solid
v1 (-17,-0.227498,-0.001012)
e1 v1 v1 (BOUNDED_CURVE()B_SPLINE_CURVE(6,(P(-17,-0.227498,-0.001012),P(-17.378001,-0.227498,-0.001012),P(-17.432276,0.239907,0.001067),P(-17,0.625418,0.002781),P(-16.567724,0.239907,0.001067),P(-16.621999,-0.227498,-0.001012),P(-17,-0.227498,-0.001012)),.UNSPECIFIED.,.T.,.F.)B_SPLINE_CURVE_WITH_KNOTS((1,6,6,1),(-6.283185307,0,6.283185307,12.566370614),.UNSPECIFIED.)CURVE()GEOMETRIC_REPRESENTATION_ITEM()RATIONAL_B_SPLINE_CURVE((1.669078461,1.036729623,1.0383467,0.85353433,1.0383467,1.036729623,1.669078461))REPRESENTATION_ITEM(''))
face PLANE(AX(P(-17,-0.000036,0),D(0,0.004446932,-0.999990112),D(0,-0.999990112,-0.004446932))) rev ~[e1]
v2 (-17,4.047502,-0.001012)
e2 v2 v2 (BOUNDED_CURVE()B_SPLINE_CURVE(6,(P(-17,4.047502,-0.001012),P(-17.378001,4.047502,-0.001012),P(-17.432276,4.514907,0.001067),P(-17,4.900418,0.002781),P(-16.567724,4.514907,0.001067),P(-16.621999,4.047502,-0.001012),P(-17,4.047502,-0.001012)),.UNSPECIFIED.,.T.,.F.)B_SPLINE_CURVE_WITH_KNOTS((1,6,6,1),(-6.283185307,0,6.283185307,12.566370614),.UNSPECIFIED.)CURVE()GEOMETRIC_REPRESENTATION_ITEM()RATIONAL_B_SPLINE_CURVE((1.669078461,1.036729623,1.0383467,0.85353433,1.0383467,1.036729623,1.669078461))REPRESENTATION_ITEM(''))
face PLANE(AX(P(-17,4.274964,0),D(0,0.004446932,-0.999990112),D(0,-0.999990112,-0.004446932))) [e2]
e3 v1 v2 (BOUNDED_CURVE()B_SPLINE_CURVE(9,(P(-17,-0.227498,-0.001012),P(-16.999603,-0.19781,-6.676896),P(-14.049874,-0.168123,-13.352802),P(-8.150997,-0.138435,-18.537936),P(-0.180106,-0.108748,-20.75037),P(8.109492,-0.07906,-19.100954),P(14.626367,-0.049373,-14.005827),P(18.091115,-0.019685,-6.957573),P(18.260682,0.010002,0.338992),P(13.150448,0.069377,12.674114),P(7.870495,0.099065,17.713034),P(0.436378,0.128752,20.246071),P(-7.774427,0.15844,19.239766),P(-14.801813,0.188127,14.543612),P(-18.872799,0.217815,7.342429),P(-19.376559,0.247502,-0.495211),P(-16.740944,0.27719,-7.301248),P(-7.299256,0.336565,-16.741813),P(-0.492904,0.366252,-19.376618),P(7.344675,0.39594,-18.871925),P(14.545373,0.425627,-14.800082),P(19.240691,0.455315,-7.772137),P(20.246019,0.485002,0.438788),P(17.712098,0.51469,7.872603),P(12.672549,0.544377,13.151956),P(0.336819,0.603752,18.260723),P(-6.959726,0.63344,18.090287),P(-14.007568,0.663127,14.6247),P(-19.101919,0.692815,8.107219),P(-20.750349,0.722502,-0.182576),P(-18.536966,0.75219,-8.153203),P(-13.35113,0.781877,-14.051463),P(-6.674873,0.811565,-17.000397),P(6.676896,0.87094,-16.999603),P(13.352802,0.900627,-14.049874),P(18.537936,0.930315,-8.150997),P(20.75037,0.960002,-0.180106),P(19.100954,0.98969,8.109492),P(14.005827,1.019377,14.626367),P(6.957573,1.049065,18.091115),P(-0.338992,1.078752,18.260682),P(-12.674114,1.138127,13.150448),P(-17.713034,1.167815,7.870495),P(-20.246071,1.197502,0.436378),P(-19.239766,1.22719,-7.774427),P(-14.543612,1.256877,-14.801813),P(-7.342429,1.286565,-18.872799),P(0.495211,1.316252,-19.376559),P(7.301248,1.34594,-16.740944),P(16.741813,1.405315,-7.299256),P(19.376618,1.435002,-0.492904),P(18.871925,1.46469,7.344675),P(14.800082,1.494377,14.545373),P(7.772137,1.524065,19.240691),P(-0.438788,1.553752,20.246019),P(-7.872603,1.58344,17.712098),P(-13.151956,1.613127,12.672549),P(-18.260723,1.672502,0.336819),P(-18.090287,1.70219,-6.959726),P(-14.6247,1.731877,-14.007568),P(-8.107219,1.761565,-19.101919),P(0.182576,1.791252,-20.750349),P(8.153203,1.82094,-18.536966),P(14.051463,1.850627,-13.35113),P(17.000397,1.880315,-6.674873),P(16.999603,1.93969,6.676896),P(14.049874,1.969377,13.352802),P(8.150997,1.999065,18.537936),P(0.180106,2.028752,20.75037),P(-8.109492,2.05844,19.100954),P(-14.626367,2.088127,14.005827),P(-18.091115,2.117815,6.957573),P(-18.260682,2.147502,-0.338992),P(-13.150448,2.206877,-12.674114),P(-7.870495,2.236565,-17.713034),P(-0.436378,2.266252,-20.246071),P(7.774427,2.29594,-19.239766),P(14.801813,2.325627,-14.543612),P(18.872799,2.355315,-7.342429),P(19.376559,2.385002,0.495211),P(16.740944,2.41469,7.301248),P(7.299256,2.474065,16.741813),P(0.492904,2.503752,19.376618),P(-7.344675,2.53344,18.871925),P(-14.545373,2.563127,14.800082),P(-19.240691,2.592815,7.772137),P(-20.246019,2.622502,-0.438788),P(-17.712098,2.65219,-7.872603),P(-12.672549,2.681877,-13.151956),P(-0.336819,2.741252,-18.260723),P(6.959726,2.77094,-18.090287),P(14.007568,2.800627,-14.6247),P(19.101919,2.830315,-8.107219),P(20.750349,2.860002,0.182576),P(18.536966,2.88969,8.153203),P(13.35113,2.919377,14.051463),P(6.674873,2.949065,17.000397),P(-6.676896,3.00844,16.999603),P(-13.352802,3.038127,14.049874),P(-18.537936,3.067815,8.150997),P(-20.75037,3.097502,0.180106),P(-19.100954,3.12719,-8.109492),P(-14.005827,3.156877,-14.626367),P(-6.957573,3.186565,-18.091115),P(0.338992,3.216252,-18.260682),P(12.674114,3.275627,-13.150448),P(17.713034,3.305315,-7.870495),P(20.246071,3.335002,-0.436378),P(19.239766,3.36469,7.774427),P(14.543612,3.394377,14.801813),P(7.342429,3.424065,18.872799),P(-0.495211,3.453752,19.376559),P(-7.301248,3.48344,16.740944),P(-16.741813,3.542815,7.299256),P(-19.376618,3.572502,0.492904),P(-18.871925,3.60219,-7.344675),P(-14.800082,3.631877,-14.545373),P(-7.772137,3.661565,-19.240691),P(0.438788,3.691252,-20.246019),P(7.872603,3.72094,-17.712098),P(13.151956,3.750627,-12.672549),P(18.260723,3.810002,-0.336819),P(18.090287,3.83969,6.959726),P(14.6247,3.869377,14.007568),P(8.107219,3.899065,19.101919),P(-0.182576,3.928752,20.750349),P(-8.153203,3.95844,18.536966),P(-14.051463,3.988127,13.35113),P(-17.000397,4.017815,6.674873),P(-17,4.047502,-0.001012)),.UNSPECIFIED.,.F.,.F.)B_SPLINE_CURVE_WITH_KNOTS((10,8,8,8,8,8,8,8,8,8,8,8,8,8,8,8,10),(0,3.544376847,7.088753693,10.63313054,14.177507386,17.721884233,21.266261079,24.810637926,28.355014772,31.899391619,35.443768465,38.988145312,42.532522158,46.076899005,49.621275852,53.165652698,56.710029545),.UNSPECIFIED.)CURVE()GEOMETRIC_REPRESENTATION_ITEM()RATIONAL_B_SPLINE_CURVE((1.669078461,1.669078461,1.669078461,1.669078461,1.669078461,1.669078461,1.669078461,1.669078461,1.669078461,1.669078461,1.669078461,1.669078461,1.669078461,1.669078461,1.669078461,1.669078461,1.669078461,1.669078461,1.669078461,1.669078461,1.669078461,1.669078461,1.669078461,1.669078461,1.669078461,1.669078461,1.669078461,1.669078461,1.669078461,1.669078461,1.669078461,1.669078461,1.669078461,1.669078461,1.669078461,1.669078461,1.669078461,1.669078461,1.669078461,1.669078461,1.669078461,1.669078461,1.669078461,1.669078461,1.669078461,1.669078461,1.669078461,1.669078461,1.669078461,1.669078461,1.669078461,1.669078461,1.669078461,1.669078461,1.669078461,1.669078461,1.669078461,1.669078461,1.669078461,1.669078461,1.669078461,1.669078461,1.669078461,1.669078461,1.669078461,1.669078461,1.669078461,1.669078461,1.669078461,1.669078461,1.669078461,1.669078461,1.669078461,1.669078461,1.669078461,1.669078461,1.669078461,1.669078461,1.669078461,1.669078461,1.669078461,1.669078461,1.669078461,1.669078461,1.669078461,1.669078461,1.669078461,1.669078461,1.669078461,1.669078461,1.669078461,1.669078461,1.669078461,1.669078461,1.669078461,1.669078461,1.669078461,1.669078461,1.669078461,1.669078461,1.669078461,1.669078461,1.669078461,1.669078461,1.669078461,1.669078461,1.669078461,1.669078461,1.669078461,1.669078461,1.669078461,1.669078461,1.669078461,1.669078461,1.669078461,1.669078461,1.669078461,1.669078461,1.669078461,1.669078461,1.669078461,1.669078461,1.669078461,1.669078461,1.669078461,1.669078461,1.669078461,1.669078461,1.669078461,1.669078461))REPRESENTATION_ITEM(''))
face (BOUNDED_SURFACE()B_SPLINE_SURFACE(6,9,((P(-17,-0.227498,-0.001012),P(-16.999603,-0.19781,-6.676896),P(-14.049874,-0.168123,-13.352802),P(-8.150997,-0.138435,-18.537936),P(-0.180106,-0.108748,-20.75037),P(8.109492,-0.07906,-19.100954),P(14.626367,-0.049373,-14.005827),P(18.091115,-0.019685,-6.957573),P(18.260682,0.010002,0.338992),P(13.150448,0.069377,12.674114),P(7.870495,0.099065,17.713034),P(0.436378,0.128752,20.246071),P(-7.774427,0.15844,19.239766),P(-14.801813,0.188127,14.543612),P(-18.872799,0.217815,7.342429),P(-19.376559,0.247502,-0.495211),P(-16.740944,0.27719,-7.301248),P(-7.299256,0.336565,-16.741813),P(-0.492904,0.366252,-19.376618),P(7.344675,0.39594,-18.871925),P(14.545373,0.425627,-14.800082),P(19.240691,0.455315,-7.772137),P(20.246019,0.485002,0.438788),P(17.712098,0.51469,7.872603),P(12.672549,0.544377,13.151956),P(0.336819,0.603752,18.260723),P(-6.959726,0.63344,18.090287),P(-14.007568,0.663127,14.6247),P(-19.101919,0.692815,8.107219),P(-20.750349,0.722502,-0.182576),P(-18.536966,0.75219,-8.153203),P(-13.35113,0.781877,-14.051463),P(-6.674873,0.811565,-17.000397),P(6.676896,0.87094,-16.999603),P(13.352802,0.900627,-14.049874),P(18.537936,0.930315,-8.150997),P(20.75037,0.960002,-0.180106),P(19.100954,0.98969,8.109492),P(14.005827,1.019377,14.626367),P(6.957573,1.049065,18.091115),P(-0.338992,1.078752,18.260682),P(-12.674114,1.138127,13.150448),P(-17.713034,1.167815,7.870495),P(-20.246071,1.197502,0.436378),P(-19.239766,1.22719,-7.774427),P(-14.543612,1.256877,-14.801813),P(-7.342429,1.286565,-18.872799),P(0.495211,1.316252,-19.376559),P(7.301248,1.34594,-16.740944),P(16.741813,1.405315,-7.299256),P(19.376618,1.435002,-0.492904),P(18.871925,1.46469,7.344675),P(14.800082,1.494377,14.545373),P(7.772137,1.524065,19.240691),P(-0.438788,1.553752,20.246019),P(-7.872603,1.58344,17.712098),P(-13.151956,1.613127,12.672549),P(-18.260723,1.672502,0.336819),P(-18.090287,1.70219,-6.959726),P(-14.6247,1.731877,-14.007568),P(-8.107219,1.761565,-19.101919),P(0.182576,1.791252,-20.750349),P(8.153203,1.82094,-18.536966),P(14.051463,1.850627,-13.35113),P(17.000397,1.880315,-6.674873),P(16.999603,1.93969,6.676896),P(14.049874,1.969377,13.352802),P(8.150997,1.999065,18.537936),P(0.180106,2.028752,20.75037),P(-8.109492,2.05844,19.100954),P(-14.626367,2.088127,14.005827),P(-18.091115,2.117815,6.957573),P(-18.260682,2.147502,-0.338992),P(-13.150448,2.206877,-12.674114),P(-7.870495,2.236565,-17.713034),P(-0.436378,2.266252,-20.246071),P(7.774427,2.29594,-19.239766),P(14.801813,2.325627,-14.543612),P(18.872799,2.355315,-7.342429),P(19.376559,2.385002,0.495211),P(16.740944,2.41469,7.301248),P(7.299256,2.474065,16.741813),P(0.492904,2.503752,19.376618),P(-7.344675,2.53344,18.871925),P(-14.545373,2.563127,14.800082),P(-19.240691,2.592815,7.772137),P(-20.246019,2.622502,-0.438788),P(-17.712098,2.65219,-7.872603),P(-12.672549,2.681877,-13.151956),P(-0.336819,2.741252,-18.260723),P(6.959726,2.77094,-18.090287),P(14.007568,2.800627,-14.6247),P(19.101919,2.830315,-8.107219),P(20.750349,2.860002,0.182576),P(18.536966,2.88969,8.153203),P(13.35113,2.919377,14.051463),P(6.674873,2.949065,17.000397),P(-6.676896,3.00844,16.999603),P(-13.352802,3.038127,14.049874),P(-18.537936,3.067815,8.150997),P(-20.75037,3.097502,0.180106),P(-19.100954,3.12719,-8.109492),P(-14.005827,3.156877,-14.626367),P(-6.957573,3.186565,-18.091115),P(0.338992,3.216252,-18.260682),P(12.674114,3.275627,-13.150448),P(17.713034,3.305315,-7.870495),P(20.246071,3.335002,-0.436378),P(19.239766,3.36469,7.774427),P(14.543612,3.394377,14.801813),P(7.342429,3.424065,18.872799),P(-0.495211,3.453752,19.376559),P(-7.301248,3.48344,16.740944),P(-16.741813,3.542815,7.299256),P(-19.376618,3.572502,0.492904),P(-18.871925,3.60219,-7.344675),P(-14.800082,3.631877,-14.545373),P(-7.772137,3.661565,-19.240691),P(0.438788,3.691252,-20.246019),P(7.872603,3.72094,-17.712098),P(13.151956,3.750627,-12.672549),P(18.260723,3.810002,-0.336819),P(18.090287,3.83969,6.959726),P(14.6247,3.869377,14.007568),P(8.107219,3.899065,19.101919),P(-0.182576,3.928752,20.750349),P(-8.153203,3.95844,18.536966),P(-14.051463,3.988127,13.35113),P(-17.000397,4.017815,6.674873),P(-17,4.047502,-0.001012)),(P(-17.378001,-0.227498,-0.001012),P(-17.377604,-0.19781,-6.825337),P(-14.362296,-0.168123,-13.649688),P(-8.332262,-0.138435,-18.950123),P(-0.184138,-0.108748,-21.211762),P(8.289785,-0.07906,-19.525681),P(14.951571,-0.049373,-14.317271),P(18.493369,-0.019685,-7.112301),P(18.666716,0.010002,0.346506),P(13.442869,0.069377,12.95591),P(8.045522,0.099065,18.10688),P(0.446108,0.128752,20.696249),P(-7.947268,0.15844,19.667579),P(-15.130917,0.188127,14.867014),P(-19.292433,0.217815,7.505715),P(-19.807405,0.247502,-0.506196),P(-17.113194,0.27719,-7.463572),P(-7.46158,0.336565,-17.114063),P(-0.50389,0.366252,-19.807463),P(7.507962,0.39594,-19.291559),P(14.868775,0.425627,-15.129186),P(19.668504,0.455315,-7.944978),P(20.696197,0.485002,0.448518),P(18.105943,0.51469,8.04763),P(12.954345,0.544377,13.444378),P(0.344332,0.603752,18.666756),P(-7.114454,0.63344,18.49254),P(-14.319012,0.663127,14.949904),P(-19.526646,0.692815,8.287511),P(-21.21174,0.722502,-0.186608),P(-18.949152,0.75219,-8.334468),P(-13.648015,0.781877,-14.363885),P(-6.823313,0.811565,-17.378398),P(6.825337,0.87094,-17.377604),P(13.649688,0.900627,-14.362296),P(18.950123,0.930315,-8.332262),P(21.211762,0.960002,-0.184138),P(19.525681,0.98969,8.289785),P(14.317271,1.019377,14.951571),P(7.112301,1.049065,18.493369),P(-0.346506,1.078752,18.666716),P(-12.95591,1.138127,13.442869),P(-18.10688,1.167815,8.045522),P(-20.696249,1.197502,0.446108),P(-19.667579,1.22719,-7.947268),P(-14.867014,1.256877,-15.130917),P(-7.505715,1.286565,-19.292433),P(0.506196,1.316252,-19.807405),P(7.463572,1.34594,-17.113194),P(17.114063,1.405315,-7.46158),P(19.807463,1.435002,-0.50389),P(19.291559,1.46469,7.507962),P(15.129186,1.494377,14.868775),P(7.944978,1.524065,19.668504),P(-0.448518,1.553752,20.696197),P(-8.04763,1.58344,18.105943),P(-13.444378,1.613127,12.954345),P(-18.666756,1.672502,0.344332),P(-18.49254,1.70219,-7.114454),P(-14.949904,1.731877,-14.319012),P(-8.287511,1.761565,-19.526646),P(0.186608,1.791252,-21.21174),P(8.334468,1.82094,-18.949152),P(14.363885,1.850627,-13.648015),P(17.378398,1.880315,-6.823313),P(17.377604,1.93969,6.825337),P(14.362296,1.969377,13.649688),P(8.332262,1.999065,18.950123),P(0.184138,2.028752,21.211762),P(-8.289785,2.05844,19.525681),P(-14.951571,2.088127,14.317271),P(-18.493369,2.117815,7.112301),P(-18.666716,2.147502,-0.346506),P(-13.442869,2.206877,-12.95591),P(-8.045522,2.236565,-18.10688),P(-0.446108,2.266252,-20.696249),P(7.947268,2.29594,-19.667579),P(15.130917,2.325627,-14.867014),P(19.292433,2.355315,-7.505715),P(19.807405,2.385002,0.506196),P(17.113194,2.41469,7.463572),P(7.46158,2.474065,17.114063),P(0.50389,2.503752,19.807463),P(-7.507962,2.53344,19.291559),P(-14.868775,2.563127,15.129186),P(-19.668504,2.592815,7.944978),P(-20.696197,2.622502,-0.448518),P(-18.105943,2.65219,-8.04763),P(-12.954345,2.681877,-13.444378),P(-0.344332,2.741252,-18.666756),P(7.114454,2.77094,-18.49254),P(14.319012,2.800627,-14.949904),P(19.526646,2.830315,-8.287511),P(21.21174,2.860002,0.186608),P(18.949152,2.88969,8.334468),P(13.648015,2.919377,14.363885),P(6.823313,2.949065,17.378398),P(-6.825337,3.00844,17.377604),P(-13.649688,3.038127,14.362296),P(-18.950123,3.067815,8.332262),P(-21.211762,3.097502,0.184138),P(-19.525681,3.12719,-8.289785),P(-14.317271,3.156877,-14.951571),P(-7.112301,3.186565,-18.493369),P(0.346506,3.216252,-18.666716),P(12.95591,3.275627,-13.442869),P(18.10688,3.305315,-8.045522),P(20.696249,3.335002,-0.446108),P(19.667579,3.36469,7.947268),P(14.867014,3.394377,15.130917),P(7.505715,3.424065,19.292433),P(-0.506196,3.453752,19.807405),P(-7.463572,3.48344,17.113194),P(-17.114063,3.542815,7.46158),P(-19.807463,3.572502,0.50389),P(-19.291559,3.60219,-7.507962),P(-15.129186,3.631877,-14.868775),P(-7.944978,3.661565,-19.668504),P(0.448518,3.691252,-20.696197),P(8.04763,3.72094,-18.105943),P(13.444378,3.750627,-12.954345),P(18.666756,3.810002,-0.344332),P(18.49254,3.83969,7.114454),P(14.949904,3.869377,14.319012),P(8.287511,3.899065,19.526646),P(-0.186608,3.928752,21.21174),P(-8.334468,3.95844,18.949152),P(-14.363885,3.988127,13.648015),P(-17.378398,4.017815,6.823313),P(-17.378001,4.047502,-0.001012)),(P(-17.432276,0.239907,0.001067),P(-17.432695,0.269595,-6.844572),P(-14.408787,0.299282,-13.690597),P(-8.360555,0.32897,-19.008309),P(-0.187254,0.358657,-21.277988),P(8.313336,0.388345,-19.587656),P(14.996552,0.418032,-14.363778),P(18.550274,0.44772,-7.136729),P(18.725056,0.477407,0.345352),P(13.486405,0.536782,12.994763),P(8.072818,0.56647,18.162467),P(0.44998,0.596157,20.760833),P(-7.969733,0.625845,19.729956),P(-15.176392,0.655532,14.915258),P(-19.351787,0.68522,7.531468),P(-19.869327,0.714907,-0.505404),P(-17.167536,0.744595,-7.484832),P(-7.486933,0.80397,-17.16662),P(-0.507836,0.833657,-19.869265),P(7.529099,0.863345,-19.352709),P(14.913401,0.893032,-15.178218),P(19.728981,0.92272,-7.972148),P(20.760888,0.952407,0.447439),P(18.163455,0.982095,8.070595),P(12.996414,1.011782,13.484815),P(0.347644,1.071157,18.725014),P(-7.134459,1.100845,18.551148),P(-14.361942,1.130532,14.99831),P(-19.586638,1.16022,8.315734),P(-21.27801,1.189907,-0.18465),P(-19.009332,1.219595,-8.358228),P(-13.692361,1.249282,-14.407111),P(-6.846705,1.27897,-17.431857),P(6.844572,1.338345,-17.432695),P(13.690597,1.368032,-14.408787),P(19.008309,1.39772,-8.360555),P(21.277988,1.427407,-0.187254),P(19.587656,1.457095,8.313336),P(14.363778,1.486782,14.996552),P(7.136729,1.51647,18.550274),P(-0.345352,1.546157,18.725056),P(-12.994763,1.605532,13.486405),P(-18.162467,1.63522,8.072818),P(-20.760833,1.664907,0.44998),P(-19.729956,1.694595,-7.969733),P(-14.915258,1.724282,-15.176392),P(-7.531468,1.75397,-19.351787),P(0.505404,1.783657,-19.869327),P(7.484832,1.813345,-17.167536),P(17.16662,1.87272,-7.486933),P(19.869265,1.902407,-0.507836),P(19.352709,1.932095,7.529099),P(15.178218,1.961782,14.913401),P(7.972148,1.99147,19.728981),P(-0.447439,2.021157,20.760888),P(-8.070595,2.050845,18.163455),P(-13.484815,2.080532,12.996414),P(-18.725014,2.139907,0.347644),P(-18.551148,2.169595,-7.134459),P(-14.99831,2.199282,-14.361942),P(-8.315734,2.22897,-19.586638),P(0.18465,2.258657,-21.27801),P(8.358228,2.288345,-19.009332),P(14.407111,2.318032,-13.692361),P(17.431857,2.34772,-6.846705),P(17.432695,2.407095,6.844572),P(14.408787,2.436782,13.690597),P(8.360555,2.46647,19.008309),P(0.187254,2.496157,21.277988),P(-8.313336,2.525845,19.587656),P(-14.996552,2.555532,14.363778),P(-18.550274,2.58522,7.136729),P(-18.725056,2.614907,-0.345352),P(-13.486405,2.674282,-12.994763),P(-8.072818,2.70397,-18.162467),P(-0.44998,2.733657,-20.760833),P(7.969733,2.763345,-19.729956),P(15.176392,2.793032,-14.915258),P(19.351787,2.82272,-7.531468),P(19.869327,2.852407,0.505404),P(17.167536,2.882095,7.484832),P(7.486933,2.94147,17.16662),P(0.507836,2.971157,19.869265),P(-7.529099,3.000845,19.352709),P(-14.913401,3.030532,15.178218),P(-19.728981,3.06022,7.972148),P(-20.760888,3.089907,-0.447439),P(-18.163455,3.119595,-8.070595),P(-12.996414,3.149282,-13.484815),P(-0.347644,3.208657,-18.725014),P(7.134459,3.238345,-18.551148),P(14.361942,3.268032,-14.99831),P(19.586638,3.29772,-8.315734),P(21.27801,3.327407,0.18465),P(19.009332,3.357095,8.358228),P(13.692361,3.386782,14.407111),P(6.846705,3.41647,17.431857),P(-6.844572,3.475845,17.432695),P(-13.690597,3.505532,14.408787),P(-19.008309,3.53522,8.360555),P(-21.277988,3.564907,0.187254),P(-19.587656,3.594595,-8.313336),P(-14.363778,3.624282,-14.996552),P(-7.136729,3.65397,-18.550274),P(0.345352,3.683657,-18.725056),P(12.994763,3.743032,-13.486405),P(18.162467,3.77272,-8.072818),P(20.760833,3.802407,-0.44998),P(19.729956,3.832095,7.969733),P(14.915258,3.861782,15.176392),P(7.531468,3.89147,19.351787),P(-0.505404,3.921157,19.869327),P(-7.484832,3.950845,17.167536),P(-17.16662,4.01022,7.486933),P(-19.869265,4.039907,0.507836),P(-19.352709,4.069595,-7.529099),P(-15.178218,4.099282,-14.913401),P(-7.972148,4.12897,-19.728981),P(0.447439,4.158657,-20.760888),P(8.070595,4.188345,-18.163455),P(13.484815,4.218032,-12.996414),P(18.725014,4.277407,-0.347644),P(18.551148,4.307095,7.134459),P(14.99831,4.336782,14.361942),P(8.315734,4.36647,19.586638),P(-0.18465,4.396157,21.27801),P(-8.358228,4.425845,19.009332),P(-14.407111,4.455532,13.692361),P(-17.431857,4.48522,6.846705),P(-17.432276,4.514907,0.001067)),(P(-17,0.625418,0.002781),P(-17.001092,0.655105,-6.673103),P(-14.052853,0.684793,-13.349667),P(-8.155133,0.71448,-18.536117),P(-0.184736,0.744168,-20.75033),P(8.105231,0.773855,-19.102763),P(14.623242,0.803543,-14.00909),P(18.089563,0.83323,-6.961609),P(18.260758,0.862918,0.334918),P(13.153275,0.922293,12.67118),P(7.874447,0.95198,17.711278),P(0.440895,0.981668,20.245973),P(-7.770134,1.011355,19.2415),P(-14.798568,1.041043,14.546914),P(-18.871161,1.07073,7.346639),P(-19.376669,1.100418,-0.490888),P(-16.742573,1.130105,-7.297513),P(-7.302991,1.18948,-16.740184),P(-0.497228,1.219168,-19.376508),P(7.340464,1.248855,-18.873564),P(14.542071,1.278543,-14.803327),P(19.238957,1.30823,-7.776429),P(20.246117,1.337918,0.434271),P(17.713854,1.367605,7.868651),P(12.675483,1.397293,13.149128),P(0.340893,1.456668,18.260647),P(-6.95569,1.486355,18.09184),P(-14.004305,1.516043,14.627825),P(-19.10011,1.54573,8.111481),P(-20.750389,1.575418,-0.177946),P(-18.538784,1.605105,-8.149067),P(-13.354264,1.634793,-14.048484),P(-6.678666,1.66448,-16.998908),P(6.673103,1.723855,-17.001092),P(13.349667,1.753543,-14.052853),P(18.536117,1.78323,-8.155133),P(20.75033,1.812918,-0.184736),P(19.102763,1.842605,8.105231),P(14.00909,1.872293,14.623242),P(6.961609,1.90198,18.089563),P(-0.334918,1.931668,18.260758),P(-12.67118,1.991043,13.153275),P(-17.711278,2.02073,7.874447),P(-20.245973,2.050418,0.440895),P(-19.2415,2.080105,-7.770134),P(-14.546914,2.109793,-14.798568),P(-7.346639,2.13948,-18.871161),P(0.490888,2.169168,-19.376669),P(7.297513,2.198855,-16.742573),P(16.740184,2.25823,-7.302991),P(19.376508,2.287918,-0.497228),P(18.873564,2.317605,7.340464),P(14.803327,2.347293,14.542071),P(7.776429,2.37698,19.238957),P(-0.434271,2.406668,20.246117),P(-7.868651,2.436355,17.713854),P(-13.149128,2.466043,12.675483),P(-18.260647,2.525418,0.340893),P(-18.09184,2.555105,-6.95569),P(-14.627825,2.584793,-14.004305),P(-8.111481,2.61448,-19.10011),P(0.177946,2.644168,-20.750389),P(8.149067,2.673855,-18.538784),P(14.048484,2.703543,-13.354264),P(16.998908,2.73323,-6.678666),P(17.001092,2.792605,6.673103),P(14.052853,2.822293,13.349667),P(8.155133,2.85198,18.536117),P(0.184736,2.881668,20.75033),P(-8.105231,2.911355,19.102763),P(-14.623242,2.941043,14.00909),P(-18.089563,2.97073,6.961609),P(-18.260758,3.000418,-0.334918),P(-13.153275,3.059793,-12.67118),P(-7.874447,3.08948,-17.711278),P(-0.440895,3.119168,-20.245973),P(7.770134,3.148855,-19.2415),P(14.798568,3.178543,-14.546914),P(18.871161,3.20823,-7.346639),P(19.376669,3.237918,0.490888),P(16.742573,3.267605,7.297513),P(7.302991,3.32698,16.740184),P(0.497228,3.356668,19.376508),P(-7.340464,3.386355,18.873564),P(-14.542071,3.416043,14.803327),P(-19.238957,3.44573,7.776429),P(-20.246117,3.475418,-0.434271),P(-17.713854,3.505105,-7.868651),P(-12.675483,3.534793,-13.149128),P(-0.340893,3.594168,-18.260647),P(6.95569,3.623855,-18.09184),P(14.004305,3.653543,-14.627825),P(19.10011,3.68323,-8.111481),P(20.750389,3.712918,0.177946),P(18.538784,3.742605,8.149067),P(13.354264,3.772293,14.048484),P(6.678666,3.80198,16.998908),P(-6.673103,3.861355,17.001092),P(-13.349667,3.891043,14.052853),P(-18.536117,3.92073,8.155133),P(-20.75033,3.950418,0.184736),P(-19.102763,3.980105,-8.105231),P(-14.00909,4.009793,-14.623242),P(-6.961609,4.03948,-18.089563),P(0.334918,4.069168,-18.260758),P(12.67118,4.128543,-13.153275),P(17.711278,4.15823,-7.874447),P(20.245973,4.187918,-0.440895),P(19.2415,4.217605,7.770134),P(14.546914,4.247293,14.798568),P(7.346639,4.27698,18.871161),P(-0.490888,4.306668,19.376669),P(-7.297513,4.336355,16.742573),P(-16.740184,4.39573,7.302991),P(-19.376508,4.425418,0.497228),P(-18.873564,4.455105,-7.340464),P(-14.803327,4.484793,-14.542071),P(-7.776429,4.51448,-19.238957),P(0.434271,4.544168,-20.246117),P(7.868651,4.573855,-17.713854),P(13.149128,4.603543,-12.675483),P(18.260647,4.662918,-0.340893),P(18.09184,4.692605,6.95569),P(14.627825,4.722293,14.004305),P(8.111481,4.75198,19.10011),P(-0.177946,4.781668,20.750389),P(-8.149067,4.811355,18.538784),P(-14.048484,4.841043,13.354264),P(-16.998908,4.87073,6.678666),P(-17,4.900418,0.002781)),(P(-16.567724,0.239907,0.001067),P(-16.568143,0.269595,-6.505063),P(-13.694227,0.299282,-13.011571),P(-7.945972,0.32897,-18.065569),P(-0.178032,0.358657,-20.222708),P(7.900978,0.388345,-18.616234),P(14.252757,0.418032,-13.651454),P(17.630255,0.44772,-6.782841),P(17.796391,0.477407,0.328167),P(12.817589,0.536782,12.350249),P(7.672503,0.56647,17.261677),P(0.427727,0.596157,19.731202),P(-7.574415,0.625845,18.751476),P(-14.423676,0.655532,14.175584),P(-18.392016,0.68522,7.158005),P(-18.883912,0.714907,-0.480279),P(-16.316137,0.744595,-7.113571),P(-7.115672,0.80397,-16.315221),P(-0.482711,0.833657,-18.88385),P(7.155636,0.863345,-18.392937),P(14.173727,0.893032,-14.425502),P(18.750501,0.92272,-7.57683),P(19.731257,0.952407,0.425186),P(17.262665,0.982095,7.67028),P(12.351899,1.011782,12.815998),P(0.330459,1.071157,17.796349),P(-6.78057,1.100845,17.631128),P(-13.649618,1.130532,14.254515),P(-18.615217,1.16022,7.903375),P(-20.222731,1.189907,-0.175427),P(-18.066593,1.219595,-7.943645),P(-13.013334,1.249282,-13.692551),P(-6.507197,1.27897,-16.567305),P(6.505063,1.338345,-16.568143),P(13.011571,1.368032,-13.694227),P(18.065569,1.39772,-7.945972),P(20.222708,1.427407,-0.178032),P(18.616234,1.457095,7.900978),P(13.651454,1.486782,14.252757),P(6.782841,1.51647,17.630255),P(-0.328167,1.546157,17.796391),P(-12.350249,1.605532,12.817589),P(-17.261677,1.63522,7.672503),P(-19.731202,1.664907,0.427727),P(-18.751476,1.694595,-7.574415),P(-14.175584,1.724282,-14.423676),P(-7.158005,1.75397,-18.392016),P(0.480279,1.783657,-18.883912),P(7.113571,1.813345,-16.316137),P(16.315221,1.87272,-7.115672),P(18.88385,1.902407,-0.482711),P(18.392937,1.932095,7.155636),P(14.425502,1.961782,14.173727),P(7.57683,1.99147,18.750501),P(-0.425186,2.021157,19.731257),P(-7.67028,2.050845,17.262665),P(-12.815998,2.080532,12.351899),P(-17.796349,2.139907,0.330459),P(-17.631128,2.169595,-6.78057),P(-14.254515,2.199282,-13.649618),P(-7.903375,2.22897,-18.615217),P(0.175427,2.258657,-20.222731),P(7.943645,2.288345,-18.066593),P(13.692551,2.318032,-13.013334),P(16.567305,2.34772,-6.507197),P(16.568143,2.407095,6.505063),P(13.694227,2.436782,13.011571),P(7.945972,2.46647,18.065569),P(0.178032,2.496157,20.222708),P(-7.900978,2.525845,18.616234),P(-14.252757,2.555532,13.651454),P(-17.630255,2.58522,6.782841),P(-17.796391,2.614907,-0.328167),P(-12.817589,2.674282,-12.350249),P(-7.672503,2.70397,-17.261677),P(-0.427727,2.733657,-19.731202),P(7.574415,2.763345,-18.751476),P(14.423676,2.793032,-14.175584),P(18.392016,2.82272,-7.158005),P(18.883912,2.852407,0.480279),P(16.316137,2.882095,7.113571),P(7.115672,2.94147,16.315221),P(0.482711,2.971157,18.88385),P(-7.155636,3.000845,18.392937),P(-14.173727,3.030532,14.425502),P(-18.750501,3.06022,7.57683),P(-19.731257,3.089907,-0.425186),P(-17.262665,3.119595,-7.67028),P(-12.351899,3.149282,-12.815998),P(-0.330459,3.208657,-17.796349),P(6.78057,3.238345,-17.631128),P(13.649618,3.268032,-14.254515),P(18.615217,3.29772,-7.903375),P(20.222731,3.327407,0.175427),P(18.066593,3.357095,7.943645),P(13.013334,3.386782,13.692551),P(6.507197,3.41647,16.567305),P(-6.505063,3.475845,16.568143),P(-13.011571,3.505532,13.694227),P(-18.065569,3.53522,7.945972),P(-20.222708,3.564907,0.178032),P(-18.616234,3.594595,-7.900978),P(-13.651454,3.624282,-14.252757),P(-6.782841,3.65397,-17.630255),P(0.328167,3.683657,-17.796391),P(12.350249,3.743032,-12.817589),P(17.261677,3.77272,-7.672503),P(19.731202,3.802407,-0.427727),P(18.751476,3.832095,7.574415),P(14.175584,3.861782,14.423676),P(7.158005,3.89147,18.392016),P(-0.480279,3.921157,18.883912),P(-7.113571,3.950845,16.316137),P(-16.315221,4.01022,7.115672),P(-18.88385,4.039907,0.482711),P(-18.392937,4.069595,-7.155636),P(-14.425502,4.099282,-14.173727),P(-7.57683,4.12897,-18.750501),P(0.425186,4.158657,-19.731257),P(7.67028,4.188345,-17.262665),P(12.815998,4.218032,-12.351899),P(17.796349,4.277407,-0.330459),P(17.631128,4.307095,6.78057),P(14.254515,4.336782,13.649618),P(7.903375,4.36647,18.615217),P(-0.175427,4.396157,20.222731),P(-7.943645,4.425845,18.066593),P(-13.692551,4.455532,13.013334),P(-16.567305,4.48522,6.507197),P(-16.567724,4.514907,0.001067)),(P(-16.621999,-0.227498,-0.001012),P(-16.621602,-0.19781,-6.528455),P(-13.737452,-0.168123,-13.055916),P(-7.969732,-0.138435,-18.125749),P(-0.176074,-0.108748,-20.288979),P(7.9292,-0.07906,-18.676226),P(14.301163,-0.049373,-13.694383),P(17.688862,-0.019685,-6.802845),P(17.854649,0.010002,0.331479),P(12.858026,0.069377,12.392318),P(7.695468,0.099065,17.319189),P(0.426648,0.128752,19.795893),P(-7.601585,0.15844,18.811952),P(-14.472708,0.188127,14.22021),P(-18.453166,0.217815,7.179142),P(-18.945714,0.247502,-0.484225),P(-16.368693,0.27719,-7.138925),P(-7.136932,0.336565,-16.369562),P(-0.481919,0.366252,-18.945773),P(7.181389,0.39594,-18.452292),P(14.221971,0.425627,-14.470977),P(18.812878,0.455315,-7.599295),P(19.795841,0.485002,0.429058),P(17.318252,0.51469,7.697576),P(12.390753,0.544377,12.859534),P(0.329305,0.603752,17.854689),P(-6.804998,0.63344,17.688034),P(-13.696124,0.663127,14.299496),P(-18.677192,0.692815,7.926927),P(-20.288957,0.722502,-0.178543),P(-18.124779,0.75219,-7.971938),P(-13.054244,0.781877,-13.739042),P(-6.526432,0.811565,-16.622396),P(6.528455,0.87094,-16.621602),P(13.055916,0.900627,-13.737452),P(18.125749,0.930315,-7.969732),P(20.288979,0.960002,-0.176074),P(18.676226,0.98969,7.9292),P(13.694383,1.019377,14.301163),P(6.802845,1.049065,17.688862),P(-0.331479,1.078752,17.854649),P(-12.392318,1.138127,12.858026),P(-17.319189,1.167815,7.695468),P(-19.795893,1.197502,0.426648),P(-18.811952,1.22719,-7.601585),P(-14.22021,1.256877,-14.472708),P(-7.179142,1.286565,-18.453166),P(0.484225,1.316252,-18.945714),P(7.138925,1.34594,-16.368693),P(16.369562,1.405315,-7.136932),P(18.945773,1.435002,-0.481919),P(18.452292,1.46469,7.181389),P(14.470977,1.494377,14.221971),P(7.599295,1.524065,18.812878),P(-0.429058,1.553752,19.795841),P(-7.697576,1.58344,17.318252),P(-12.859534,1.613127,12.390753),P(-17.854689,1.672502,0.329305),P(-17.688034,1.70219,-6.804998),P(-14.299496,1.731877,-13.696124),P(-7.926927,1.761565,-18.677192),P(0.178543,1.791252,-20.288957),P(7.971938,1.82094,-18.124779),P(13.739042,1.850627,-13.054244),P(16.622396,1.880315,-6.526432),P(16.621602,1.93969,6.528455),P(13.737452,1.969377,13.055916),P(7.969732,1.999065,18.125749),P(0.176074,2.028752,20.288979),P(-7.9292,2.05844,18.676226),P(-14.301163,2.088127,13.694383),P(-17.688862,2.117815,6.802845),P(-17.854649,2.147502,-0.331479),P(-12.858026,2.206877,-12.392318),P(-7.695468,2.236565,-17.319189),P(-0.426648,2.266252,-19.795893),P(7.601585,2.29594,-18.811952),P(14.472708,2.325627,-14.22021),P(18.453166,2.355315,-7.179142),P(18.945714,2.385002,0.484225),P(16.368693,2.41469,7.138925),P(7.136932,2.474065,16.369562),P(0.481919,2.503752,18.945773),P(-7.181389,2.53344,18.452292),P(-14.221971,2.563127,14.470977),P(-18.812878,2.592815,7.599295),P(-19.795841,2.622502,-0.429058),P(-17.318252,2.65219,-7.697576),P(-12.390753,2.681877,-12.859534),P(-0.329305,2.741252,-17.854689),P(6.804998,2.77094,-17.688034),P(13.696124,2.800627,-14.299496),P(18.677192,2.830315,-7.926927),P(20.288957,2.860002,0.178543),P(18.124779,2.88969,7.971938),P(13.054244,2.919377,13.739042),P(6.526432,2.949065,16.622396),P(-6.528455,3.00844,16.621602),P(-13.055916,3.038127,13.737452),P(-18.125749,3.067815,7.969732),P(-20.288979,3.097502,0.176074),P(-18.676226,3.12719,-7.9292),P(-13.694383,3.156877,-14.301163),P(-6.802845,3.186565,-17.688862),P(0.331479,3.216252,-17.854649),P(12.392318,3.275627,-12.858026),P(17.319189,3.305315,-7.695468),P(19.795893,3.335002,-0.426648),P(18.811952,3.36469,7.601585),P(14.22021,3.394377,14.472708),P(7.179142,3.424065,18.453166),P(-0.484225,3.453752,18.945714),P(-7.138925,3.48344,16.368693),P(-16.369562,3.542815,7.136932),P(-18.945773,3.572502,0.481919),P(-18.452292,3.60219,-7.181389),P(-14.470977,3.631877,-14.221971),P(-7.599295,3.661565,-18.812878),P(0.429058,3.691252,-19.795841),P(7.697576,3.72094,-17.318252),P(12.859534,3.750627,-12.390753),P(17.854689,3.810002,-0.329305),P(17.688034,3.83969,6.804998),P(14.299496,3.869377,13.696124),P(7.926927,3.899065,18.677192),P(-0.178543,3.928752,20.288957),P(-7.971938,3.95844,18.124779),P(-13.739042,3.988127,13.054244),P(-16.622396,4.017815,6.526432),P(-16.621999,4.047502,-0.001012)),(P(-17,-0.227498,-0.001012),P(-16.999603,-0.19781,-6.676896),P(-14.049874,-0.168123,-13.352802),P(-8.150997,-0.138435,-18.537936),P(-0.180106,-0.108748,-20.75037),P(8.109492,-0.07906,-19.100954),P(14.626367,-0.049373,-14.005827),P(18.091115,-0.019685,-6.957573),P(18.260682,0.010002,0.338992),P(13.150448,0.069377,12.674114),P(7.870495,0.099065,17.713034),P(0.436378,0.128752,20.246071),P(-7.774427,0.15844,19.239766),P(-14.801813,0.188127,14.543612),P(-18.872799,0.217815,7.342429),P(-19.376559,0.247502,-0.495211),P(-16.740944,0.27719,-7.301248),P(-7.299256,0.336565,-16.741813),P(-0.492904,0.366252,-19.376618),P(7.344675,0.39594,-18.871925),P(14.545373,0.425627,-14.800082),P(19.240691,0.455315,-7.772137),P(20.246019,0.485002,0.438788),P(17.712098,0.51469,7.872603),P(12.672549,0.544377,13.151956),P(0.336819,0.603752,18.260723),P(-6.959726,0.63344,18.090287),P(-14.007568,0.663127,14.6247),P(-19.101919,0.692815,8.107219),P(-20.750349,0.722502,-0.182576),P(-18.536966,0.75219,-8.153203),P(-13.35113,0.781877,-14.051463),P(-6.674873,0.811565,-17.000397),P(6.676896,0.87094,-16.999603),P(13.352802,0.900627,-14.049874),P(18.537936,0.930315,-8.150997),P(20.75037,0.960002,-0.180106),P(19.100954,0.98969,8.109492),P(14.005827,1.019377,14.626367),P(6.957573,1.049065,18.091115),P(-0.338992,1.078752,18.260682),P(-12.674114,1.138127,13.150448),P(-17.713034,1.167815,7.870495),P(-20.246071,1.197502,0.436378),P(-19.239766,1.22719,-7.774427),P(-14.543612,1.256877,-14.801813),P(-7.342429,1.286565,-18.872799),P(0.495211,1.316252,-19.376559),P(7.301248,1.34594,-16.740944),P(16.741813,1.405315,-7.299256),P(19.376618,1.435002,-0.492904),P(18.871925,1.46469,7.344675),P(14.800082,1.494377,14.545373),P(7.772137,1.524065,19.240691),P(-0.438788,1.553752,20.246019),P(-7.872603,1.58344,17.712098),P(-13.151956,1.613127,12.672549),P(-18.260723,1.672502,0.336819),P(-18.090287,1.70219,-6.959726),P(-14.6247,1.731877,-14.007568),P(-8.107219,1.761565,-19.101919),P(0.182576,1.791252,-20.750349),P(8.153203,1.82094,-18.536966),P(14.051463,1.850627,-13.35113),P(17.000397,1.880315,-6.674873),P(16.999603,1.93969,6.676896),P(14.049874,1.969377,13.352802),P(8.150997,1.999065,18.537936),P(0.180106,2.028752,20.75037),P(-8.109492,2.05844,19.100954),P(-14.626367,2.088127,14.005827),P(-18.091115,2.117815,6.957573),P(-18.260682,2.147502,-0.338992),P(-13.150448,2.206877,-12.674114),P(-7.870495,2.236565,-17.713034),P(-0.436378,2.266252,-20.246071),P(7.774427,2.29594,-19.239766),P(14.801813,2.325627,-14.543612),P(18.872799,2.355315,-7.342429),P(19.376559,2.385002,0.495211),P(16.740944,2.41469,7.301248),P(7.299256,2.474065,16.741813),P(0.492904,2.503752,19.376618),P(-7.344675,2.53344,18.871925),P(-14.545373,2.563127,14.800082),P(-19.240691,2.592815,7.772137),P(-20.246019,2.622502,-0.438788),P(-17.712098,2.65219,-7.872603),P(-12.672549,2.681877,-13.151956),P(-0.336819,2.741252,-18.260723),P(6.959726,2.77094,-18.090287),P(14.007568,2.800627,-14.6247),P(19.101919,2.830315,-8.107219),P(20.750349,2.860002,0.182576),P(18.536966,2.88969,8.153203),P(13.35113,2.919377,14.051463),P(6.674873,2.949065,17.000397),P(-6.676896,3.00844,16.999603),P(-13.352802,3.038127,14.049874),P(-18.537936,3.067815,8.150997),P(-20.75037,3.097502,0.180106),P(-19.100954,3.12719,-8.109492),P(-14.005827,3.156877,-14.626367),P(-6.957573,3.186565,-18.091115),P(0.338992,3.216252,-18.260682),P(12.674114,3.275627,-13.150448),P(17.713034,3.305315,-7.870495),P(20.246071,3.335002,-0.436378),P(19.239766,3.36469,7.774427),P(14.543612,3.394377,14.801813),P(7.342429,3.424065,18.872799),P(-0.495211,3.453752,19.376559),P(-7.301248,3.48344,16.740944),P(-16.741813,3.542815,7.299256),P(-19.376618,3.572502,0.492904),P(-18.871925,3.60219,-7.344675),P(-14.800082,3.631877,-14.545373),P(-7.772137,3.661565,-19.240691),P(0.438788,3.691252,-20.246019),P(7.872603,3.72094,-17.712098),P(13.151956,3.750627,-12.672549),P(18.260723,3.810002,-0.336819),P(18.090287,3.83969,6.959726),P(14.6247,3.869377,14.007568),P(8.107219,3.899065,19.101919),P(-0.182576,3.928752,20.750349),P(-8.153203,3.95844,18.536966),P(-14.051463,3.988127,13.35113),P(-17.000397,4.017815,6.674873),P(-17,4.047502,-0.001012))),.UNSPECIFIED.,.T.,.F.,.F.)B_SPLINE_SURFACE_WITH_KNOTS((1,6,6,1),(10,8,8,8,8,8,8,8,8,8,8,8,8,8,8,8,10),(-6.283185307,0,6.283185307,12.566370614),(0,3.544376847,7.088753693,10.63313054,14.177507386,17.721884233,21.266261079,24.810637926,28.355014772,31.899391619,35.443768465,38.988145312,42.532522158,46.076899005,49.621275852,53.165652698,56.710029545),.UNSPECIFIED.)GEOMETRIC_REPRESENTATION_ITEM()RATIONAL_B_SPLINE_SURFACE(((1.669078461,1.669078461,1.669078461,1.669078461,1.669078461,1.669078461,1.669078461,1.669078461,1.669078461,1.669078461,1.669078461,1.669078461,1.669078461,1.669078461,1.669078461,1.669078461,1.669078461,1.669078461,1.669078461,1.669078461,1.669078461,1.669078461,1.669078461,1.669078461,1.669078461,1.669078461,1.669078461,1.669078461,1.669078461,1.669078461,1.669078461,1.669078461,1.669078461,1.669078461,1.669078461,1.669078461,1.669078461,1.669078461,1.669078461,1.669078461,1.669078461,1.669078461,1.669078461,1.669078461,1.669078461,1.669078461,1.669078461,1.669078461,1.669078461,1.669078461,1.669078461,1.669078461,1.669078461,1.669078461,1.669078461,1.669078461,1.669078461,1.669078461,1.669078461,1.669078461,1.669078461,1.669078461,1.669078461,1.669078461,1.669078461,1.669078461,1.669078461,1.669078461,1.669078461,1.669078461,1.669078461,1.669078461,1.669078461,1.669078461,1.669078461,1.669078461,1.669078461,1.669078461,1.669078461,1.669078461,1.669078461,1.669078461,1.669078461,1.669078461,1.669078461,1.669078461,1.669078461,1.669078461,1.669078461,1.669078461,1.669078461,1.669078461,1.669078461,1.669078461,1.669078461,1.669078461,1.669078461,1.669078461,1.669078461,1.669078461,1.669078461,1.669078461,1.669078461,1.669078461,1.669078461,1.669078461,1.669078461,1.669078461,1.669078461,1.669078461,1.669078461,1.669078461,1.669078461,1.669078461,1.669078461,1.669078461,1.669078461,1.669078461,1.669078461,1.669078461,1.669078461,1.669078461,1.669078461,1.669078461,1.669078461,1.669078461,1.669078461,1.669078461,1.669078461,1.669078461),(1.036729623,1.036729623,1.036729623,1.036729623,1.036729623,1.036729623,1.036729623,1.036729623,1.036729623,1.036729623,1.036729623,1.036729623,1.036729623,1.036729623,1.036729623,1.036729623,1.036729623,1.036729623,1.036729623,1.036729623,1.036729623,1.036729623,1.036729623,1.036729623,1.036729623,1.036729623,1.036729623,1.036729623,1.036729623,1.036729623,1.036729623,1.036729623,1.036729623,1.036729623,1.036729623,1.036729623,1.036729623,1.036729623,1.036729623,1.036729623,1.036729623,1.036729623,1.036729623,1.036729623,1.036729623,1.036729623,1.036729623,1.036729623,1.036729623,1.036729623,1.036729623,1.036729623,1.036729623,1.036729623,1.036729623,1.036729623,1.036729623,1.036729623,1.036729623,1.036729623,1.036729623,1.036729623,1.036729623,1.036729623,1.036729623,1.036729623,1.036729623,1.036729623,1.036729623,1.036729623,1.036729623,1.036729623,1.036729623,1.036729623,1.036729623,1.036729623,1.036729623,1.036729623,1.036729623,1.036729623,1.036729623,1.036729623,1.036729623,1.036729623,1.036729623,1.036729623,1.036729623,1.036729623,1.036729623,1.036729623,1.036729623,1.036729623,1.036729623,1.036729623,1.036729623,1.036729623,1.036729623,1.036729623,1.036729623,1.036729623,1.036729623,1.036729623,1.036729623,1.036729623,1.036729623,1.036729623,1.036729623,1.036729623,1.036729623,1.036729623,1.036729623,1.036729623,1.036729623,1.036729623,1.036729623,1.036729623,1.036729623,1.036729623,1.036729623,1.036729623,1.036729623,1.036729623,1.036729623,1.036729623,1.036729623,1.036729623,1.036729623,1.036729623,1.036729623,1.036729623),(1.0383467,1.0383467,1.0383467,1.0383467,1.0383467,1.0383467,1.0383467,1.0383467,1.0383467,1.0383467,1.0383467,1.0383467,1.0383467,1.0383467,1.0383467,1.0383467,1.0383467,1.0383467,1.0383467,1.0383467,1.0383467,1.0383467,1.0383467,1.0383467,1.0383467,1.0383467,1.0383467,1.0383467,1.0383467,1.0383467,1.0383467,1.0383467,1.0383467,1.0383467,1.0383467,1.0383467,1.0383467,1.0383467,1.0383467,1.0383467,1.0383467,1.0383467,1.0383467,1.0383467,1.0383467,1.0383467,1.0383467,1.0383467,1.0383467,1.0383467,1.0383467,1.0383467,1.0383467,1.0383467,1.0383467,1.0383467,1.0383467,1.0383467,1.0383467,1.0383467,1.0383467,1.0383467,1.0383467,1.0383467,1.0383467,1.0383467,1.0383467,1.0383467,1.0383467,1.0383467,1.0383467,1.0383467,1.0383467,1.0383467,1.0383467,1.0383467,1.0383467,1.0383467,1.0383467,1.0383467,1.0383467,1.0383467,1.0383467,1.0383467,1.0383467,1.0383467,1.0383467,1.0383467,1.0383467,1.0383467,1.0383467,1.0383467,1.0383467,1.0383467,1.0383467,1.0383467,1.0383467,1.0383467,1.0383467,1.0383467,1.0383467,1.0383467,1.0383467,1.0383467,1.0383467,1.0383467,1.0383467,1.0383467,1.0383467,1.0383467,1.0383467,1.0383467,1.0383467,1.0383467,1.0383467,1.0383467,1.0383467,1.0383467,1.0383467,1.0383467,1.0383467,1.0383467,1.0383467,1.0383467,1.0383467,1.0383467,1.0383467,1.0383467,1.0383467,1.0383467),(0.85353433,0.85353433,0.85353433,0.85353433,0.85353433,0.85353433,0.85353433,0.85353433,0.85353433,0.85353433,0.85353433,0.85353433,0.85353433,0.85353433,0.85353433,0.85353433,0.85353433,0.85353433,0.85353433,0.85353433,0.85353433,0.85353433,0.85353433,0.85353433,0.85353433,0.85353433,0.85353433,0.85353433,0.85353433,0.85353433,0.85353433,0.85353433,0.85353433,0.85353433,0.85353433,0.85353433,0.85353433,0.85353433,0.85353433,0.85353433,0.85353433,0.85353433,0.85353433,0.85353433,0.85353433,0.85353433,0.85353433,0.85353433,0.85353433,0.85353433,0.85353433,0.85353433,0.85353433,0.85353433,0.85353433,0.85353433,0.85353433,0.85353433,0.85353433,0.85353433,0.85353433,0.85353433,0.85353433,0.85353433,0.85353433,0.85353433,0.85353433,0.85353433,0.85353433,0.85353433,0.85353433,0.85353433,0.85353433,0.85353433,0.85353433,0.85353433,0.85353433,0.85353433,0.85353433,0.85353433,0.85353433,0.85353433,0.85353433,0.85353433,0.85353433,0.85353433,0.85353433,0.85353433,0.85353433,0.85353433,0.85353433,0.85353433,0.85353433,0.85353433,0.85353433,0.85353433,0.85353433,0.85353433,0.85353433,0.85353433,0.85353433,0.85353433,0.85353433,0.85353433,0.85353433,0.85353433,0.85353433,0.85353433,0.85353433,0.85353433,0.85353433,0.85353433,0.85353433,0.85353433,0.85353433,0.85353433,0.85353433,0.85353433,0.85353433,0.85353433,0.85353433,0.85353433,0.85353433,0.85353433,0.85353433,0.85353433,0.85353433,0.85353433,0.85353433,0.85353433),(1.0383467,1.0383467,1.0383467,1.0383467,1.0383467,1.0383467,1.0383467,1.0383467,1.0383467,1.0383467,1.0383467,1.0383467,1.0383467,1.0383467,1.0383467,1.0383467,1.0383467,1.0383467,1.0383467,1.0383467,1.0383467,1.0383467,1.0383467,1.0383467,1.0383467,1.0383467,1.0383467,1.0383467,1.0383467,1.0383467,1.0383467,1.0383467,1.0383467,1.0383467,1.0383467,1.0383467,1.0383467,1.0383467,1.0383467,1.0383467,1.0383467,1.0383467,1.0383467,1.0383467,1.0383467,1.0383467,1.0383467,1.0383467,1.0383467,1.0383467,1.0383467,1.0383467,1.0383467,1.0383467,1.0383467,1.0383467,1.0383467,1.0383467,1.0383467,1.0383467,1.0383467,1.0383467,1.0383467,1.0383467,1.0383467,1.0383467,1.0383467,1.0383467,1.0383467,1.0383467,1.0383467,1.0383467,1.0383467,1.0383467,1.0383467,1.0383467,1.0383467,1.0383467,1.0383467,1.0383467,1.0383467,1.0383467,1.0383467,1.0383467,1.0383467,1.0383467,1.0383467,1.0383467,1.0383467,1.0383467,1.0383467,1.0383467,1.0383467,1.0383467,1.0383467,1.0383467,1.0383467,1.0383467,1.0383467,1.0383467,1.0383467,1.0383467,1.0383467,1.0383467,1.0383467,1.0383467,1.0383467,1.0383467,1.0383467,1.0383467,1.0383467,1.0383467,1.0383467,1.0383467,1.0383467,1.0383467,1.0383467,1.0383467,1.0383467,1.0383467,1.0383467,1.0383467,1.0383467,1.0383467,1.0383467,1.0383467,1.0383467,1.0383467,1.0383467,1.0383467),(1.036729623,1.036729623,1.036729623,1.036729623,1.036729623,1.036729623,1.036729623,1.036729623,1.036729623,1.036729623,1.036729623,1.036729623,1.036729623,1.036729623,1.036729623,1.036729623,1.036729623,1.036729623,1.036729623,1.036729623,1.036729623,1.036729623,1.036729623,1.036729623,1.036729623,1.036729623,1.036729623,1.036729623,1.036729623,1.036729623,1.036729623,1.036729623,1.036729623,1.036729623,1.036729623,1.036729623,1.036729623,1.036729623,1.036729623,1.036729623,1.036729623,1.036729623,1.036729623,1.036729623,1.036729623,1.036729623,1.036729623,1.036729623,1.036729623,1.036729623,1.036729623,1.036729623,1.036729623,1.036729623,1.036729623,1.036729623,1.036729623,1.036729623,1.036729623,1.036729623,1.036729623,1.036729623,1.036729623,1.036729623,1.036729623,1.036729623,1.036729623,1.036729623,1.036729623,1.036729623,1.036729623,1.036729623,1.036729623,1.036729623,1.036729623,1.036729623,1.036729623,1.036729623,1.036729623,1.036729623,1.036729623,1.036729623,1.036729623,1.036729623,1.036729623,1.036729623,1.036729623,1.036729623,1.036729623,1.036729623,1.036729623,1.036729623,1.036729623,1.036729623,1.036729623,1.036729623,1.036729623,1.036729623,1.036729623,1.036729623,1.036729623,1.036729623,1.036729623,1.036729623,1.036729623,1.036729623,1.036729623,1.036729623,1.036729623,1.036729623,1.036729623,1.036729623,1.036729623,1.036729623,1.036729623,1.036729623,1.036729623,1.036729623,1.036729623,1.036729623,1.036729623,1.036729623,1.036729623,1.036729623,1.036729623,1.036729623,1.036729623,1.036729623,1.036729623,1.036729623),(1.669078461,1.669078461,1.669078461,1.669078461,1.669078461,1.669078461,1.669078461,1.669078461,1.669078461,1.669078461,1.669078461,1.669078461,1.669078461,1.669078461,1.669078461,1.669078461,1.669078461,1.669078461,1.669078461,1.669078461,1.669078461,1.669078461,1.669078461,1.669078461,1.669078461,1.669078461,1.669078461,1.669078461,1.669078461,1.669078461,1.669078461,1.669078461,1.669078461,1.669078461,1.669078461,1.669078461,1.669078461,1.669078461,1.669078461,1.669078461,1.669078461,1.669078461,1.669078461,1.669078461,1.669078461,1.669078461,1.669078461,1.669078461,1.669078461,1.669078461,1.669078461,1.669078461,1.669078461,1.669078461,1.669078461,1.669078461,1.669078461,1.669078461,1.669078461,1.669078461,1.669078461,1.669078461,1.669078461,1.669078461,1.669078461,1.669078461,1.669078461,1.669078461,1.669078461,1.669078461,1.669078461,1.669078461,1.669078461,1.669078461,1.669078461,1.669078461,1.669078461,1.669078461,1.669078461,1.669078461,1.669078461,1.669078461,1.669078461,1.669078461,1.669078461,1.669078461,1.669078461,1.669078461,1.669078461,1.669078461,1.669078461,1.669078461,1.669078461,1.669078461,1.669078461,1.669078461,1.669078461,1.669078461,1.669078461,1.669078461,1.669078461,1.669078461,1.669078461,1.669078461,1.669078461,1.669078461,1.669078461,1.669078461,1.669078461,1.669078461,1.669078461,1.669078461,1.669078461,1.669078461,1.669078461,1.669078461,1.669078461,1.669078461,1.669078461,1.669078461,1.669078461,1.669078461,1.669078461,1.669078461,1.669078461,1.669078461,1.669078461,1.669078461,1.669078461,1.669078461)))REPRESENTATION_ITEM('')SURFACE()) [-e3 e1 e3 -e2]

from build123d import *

# Parameters (mm, degrees)
SWEEP1_PITCH       = 0.475
SWEEP1_HEIGHT      = 4.275
SWEEP1_RADIUS      = 17
SWEEP1_START_ANGLE = -90
SWEEP1_PROFILE_R   = 0.2275


with BuildPart() as part:
    # Sweep1: sweep along a helix
    with BuildLine() as sweep1_path:
        add(Helix(SWEEP1_PITCH, SWEEP1_HEIGHT, SWEEP1_RADIUS, center=(0, 0, 0), direction=(0, 1, 0), lefthand=True, mode=Mode.PRIVATE).rotate(Axis((0, 0, 0), (0, 1, 0)), SWEEP1_START_ANGLE))
    # Sweep1 profile (on start of the path) → Sweep1 (sweep)
    with BuildSketch(Plane(origin=(-17, 0, 0), x_dir=(0, -0.9999901123473168, -0.004446932380938565), z_dir=(-5.93490929726052e-15, 0.004446932380938565, -0.9999901123473168))):
        Circle(SWEEP1_PROFILE_R)
    sweep(path=sweep1_path.line, is_frenet=True)


solid = part.part
